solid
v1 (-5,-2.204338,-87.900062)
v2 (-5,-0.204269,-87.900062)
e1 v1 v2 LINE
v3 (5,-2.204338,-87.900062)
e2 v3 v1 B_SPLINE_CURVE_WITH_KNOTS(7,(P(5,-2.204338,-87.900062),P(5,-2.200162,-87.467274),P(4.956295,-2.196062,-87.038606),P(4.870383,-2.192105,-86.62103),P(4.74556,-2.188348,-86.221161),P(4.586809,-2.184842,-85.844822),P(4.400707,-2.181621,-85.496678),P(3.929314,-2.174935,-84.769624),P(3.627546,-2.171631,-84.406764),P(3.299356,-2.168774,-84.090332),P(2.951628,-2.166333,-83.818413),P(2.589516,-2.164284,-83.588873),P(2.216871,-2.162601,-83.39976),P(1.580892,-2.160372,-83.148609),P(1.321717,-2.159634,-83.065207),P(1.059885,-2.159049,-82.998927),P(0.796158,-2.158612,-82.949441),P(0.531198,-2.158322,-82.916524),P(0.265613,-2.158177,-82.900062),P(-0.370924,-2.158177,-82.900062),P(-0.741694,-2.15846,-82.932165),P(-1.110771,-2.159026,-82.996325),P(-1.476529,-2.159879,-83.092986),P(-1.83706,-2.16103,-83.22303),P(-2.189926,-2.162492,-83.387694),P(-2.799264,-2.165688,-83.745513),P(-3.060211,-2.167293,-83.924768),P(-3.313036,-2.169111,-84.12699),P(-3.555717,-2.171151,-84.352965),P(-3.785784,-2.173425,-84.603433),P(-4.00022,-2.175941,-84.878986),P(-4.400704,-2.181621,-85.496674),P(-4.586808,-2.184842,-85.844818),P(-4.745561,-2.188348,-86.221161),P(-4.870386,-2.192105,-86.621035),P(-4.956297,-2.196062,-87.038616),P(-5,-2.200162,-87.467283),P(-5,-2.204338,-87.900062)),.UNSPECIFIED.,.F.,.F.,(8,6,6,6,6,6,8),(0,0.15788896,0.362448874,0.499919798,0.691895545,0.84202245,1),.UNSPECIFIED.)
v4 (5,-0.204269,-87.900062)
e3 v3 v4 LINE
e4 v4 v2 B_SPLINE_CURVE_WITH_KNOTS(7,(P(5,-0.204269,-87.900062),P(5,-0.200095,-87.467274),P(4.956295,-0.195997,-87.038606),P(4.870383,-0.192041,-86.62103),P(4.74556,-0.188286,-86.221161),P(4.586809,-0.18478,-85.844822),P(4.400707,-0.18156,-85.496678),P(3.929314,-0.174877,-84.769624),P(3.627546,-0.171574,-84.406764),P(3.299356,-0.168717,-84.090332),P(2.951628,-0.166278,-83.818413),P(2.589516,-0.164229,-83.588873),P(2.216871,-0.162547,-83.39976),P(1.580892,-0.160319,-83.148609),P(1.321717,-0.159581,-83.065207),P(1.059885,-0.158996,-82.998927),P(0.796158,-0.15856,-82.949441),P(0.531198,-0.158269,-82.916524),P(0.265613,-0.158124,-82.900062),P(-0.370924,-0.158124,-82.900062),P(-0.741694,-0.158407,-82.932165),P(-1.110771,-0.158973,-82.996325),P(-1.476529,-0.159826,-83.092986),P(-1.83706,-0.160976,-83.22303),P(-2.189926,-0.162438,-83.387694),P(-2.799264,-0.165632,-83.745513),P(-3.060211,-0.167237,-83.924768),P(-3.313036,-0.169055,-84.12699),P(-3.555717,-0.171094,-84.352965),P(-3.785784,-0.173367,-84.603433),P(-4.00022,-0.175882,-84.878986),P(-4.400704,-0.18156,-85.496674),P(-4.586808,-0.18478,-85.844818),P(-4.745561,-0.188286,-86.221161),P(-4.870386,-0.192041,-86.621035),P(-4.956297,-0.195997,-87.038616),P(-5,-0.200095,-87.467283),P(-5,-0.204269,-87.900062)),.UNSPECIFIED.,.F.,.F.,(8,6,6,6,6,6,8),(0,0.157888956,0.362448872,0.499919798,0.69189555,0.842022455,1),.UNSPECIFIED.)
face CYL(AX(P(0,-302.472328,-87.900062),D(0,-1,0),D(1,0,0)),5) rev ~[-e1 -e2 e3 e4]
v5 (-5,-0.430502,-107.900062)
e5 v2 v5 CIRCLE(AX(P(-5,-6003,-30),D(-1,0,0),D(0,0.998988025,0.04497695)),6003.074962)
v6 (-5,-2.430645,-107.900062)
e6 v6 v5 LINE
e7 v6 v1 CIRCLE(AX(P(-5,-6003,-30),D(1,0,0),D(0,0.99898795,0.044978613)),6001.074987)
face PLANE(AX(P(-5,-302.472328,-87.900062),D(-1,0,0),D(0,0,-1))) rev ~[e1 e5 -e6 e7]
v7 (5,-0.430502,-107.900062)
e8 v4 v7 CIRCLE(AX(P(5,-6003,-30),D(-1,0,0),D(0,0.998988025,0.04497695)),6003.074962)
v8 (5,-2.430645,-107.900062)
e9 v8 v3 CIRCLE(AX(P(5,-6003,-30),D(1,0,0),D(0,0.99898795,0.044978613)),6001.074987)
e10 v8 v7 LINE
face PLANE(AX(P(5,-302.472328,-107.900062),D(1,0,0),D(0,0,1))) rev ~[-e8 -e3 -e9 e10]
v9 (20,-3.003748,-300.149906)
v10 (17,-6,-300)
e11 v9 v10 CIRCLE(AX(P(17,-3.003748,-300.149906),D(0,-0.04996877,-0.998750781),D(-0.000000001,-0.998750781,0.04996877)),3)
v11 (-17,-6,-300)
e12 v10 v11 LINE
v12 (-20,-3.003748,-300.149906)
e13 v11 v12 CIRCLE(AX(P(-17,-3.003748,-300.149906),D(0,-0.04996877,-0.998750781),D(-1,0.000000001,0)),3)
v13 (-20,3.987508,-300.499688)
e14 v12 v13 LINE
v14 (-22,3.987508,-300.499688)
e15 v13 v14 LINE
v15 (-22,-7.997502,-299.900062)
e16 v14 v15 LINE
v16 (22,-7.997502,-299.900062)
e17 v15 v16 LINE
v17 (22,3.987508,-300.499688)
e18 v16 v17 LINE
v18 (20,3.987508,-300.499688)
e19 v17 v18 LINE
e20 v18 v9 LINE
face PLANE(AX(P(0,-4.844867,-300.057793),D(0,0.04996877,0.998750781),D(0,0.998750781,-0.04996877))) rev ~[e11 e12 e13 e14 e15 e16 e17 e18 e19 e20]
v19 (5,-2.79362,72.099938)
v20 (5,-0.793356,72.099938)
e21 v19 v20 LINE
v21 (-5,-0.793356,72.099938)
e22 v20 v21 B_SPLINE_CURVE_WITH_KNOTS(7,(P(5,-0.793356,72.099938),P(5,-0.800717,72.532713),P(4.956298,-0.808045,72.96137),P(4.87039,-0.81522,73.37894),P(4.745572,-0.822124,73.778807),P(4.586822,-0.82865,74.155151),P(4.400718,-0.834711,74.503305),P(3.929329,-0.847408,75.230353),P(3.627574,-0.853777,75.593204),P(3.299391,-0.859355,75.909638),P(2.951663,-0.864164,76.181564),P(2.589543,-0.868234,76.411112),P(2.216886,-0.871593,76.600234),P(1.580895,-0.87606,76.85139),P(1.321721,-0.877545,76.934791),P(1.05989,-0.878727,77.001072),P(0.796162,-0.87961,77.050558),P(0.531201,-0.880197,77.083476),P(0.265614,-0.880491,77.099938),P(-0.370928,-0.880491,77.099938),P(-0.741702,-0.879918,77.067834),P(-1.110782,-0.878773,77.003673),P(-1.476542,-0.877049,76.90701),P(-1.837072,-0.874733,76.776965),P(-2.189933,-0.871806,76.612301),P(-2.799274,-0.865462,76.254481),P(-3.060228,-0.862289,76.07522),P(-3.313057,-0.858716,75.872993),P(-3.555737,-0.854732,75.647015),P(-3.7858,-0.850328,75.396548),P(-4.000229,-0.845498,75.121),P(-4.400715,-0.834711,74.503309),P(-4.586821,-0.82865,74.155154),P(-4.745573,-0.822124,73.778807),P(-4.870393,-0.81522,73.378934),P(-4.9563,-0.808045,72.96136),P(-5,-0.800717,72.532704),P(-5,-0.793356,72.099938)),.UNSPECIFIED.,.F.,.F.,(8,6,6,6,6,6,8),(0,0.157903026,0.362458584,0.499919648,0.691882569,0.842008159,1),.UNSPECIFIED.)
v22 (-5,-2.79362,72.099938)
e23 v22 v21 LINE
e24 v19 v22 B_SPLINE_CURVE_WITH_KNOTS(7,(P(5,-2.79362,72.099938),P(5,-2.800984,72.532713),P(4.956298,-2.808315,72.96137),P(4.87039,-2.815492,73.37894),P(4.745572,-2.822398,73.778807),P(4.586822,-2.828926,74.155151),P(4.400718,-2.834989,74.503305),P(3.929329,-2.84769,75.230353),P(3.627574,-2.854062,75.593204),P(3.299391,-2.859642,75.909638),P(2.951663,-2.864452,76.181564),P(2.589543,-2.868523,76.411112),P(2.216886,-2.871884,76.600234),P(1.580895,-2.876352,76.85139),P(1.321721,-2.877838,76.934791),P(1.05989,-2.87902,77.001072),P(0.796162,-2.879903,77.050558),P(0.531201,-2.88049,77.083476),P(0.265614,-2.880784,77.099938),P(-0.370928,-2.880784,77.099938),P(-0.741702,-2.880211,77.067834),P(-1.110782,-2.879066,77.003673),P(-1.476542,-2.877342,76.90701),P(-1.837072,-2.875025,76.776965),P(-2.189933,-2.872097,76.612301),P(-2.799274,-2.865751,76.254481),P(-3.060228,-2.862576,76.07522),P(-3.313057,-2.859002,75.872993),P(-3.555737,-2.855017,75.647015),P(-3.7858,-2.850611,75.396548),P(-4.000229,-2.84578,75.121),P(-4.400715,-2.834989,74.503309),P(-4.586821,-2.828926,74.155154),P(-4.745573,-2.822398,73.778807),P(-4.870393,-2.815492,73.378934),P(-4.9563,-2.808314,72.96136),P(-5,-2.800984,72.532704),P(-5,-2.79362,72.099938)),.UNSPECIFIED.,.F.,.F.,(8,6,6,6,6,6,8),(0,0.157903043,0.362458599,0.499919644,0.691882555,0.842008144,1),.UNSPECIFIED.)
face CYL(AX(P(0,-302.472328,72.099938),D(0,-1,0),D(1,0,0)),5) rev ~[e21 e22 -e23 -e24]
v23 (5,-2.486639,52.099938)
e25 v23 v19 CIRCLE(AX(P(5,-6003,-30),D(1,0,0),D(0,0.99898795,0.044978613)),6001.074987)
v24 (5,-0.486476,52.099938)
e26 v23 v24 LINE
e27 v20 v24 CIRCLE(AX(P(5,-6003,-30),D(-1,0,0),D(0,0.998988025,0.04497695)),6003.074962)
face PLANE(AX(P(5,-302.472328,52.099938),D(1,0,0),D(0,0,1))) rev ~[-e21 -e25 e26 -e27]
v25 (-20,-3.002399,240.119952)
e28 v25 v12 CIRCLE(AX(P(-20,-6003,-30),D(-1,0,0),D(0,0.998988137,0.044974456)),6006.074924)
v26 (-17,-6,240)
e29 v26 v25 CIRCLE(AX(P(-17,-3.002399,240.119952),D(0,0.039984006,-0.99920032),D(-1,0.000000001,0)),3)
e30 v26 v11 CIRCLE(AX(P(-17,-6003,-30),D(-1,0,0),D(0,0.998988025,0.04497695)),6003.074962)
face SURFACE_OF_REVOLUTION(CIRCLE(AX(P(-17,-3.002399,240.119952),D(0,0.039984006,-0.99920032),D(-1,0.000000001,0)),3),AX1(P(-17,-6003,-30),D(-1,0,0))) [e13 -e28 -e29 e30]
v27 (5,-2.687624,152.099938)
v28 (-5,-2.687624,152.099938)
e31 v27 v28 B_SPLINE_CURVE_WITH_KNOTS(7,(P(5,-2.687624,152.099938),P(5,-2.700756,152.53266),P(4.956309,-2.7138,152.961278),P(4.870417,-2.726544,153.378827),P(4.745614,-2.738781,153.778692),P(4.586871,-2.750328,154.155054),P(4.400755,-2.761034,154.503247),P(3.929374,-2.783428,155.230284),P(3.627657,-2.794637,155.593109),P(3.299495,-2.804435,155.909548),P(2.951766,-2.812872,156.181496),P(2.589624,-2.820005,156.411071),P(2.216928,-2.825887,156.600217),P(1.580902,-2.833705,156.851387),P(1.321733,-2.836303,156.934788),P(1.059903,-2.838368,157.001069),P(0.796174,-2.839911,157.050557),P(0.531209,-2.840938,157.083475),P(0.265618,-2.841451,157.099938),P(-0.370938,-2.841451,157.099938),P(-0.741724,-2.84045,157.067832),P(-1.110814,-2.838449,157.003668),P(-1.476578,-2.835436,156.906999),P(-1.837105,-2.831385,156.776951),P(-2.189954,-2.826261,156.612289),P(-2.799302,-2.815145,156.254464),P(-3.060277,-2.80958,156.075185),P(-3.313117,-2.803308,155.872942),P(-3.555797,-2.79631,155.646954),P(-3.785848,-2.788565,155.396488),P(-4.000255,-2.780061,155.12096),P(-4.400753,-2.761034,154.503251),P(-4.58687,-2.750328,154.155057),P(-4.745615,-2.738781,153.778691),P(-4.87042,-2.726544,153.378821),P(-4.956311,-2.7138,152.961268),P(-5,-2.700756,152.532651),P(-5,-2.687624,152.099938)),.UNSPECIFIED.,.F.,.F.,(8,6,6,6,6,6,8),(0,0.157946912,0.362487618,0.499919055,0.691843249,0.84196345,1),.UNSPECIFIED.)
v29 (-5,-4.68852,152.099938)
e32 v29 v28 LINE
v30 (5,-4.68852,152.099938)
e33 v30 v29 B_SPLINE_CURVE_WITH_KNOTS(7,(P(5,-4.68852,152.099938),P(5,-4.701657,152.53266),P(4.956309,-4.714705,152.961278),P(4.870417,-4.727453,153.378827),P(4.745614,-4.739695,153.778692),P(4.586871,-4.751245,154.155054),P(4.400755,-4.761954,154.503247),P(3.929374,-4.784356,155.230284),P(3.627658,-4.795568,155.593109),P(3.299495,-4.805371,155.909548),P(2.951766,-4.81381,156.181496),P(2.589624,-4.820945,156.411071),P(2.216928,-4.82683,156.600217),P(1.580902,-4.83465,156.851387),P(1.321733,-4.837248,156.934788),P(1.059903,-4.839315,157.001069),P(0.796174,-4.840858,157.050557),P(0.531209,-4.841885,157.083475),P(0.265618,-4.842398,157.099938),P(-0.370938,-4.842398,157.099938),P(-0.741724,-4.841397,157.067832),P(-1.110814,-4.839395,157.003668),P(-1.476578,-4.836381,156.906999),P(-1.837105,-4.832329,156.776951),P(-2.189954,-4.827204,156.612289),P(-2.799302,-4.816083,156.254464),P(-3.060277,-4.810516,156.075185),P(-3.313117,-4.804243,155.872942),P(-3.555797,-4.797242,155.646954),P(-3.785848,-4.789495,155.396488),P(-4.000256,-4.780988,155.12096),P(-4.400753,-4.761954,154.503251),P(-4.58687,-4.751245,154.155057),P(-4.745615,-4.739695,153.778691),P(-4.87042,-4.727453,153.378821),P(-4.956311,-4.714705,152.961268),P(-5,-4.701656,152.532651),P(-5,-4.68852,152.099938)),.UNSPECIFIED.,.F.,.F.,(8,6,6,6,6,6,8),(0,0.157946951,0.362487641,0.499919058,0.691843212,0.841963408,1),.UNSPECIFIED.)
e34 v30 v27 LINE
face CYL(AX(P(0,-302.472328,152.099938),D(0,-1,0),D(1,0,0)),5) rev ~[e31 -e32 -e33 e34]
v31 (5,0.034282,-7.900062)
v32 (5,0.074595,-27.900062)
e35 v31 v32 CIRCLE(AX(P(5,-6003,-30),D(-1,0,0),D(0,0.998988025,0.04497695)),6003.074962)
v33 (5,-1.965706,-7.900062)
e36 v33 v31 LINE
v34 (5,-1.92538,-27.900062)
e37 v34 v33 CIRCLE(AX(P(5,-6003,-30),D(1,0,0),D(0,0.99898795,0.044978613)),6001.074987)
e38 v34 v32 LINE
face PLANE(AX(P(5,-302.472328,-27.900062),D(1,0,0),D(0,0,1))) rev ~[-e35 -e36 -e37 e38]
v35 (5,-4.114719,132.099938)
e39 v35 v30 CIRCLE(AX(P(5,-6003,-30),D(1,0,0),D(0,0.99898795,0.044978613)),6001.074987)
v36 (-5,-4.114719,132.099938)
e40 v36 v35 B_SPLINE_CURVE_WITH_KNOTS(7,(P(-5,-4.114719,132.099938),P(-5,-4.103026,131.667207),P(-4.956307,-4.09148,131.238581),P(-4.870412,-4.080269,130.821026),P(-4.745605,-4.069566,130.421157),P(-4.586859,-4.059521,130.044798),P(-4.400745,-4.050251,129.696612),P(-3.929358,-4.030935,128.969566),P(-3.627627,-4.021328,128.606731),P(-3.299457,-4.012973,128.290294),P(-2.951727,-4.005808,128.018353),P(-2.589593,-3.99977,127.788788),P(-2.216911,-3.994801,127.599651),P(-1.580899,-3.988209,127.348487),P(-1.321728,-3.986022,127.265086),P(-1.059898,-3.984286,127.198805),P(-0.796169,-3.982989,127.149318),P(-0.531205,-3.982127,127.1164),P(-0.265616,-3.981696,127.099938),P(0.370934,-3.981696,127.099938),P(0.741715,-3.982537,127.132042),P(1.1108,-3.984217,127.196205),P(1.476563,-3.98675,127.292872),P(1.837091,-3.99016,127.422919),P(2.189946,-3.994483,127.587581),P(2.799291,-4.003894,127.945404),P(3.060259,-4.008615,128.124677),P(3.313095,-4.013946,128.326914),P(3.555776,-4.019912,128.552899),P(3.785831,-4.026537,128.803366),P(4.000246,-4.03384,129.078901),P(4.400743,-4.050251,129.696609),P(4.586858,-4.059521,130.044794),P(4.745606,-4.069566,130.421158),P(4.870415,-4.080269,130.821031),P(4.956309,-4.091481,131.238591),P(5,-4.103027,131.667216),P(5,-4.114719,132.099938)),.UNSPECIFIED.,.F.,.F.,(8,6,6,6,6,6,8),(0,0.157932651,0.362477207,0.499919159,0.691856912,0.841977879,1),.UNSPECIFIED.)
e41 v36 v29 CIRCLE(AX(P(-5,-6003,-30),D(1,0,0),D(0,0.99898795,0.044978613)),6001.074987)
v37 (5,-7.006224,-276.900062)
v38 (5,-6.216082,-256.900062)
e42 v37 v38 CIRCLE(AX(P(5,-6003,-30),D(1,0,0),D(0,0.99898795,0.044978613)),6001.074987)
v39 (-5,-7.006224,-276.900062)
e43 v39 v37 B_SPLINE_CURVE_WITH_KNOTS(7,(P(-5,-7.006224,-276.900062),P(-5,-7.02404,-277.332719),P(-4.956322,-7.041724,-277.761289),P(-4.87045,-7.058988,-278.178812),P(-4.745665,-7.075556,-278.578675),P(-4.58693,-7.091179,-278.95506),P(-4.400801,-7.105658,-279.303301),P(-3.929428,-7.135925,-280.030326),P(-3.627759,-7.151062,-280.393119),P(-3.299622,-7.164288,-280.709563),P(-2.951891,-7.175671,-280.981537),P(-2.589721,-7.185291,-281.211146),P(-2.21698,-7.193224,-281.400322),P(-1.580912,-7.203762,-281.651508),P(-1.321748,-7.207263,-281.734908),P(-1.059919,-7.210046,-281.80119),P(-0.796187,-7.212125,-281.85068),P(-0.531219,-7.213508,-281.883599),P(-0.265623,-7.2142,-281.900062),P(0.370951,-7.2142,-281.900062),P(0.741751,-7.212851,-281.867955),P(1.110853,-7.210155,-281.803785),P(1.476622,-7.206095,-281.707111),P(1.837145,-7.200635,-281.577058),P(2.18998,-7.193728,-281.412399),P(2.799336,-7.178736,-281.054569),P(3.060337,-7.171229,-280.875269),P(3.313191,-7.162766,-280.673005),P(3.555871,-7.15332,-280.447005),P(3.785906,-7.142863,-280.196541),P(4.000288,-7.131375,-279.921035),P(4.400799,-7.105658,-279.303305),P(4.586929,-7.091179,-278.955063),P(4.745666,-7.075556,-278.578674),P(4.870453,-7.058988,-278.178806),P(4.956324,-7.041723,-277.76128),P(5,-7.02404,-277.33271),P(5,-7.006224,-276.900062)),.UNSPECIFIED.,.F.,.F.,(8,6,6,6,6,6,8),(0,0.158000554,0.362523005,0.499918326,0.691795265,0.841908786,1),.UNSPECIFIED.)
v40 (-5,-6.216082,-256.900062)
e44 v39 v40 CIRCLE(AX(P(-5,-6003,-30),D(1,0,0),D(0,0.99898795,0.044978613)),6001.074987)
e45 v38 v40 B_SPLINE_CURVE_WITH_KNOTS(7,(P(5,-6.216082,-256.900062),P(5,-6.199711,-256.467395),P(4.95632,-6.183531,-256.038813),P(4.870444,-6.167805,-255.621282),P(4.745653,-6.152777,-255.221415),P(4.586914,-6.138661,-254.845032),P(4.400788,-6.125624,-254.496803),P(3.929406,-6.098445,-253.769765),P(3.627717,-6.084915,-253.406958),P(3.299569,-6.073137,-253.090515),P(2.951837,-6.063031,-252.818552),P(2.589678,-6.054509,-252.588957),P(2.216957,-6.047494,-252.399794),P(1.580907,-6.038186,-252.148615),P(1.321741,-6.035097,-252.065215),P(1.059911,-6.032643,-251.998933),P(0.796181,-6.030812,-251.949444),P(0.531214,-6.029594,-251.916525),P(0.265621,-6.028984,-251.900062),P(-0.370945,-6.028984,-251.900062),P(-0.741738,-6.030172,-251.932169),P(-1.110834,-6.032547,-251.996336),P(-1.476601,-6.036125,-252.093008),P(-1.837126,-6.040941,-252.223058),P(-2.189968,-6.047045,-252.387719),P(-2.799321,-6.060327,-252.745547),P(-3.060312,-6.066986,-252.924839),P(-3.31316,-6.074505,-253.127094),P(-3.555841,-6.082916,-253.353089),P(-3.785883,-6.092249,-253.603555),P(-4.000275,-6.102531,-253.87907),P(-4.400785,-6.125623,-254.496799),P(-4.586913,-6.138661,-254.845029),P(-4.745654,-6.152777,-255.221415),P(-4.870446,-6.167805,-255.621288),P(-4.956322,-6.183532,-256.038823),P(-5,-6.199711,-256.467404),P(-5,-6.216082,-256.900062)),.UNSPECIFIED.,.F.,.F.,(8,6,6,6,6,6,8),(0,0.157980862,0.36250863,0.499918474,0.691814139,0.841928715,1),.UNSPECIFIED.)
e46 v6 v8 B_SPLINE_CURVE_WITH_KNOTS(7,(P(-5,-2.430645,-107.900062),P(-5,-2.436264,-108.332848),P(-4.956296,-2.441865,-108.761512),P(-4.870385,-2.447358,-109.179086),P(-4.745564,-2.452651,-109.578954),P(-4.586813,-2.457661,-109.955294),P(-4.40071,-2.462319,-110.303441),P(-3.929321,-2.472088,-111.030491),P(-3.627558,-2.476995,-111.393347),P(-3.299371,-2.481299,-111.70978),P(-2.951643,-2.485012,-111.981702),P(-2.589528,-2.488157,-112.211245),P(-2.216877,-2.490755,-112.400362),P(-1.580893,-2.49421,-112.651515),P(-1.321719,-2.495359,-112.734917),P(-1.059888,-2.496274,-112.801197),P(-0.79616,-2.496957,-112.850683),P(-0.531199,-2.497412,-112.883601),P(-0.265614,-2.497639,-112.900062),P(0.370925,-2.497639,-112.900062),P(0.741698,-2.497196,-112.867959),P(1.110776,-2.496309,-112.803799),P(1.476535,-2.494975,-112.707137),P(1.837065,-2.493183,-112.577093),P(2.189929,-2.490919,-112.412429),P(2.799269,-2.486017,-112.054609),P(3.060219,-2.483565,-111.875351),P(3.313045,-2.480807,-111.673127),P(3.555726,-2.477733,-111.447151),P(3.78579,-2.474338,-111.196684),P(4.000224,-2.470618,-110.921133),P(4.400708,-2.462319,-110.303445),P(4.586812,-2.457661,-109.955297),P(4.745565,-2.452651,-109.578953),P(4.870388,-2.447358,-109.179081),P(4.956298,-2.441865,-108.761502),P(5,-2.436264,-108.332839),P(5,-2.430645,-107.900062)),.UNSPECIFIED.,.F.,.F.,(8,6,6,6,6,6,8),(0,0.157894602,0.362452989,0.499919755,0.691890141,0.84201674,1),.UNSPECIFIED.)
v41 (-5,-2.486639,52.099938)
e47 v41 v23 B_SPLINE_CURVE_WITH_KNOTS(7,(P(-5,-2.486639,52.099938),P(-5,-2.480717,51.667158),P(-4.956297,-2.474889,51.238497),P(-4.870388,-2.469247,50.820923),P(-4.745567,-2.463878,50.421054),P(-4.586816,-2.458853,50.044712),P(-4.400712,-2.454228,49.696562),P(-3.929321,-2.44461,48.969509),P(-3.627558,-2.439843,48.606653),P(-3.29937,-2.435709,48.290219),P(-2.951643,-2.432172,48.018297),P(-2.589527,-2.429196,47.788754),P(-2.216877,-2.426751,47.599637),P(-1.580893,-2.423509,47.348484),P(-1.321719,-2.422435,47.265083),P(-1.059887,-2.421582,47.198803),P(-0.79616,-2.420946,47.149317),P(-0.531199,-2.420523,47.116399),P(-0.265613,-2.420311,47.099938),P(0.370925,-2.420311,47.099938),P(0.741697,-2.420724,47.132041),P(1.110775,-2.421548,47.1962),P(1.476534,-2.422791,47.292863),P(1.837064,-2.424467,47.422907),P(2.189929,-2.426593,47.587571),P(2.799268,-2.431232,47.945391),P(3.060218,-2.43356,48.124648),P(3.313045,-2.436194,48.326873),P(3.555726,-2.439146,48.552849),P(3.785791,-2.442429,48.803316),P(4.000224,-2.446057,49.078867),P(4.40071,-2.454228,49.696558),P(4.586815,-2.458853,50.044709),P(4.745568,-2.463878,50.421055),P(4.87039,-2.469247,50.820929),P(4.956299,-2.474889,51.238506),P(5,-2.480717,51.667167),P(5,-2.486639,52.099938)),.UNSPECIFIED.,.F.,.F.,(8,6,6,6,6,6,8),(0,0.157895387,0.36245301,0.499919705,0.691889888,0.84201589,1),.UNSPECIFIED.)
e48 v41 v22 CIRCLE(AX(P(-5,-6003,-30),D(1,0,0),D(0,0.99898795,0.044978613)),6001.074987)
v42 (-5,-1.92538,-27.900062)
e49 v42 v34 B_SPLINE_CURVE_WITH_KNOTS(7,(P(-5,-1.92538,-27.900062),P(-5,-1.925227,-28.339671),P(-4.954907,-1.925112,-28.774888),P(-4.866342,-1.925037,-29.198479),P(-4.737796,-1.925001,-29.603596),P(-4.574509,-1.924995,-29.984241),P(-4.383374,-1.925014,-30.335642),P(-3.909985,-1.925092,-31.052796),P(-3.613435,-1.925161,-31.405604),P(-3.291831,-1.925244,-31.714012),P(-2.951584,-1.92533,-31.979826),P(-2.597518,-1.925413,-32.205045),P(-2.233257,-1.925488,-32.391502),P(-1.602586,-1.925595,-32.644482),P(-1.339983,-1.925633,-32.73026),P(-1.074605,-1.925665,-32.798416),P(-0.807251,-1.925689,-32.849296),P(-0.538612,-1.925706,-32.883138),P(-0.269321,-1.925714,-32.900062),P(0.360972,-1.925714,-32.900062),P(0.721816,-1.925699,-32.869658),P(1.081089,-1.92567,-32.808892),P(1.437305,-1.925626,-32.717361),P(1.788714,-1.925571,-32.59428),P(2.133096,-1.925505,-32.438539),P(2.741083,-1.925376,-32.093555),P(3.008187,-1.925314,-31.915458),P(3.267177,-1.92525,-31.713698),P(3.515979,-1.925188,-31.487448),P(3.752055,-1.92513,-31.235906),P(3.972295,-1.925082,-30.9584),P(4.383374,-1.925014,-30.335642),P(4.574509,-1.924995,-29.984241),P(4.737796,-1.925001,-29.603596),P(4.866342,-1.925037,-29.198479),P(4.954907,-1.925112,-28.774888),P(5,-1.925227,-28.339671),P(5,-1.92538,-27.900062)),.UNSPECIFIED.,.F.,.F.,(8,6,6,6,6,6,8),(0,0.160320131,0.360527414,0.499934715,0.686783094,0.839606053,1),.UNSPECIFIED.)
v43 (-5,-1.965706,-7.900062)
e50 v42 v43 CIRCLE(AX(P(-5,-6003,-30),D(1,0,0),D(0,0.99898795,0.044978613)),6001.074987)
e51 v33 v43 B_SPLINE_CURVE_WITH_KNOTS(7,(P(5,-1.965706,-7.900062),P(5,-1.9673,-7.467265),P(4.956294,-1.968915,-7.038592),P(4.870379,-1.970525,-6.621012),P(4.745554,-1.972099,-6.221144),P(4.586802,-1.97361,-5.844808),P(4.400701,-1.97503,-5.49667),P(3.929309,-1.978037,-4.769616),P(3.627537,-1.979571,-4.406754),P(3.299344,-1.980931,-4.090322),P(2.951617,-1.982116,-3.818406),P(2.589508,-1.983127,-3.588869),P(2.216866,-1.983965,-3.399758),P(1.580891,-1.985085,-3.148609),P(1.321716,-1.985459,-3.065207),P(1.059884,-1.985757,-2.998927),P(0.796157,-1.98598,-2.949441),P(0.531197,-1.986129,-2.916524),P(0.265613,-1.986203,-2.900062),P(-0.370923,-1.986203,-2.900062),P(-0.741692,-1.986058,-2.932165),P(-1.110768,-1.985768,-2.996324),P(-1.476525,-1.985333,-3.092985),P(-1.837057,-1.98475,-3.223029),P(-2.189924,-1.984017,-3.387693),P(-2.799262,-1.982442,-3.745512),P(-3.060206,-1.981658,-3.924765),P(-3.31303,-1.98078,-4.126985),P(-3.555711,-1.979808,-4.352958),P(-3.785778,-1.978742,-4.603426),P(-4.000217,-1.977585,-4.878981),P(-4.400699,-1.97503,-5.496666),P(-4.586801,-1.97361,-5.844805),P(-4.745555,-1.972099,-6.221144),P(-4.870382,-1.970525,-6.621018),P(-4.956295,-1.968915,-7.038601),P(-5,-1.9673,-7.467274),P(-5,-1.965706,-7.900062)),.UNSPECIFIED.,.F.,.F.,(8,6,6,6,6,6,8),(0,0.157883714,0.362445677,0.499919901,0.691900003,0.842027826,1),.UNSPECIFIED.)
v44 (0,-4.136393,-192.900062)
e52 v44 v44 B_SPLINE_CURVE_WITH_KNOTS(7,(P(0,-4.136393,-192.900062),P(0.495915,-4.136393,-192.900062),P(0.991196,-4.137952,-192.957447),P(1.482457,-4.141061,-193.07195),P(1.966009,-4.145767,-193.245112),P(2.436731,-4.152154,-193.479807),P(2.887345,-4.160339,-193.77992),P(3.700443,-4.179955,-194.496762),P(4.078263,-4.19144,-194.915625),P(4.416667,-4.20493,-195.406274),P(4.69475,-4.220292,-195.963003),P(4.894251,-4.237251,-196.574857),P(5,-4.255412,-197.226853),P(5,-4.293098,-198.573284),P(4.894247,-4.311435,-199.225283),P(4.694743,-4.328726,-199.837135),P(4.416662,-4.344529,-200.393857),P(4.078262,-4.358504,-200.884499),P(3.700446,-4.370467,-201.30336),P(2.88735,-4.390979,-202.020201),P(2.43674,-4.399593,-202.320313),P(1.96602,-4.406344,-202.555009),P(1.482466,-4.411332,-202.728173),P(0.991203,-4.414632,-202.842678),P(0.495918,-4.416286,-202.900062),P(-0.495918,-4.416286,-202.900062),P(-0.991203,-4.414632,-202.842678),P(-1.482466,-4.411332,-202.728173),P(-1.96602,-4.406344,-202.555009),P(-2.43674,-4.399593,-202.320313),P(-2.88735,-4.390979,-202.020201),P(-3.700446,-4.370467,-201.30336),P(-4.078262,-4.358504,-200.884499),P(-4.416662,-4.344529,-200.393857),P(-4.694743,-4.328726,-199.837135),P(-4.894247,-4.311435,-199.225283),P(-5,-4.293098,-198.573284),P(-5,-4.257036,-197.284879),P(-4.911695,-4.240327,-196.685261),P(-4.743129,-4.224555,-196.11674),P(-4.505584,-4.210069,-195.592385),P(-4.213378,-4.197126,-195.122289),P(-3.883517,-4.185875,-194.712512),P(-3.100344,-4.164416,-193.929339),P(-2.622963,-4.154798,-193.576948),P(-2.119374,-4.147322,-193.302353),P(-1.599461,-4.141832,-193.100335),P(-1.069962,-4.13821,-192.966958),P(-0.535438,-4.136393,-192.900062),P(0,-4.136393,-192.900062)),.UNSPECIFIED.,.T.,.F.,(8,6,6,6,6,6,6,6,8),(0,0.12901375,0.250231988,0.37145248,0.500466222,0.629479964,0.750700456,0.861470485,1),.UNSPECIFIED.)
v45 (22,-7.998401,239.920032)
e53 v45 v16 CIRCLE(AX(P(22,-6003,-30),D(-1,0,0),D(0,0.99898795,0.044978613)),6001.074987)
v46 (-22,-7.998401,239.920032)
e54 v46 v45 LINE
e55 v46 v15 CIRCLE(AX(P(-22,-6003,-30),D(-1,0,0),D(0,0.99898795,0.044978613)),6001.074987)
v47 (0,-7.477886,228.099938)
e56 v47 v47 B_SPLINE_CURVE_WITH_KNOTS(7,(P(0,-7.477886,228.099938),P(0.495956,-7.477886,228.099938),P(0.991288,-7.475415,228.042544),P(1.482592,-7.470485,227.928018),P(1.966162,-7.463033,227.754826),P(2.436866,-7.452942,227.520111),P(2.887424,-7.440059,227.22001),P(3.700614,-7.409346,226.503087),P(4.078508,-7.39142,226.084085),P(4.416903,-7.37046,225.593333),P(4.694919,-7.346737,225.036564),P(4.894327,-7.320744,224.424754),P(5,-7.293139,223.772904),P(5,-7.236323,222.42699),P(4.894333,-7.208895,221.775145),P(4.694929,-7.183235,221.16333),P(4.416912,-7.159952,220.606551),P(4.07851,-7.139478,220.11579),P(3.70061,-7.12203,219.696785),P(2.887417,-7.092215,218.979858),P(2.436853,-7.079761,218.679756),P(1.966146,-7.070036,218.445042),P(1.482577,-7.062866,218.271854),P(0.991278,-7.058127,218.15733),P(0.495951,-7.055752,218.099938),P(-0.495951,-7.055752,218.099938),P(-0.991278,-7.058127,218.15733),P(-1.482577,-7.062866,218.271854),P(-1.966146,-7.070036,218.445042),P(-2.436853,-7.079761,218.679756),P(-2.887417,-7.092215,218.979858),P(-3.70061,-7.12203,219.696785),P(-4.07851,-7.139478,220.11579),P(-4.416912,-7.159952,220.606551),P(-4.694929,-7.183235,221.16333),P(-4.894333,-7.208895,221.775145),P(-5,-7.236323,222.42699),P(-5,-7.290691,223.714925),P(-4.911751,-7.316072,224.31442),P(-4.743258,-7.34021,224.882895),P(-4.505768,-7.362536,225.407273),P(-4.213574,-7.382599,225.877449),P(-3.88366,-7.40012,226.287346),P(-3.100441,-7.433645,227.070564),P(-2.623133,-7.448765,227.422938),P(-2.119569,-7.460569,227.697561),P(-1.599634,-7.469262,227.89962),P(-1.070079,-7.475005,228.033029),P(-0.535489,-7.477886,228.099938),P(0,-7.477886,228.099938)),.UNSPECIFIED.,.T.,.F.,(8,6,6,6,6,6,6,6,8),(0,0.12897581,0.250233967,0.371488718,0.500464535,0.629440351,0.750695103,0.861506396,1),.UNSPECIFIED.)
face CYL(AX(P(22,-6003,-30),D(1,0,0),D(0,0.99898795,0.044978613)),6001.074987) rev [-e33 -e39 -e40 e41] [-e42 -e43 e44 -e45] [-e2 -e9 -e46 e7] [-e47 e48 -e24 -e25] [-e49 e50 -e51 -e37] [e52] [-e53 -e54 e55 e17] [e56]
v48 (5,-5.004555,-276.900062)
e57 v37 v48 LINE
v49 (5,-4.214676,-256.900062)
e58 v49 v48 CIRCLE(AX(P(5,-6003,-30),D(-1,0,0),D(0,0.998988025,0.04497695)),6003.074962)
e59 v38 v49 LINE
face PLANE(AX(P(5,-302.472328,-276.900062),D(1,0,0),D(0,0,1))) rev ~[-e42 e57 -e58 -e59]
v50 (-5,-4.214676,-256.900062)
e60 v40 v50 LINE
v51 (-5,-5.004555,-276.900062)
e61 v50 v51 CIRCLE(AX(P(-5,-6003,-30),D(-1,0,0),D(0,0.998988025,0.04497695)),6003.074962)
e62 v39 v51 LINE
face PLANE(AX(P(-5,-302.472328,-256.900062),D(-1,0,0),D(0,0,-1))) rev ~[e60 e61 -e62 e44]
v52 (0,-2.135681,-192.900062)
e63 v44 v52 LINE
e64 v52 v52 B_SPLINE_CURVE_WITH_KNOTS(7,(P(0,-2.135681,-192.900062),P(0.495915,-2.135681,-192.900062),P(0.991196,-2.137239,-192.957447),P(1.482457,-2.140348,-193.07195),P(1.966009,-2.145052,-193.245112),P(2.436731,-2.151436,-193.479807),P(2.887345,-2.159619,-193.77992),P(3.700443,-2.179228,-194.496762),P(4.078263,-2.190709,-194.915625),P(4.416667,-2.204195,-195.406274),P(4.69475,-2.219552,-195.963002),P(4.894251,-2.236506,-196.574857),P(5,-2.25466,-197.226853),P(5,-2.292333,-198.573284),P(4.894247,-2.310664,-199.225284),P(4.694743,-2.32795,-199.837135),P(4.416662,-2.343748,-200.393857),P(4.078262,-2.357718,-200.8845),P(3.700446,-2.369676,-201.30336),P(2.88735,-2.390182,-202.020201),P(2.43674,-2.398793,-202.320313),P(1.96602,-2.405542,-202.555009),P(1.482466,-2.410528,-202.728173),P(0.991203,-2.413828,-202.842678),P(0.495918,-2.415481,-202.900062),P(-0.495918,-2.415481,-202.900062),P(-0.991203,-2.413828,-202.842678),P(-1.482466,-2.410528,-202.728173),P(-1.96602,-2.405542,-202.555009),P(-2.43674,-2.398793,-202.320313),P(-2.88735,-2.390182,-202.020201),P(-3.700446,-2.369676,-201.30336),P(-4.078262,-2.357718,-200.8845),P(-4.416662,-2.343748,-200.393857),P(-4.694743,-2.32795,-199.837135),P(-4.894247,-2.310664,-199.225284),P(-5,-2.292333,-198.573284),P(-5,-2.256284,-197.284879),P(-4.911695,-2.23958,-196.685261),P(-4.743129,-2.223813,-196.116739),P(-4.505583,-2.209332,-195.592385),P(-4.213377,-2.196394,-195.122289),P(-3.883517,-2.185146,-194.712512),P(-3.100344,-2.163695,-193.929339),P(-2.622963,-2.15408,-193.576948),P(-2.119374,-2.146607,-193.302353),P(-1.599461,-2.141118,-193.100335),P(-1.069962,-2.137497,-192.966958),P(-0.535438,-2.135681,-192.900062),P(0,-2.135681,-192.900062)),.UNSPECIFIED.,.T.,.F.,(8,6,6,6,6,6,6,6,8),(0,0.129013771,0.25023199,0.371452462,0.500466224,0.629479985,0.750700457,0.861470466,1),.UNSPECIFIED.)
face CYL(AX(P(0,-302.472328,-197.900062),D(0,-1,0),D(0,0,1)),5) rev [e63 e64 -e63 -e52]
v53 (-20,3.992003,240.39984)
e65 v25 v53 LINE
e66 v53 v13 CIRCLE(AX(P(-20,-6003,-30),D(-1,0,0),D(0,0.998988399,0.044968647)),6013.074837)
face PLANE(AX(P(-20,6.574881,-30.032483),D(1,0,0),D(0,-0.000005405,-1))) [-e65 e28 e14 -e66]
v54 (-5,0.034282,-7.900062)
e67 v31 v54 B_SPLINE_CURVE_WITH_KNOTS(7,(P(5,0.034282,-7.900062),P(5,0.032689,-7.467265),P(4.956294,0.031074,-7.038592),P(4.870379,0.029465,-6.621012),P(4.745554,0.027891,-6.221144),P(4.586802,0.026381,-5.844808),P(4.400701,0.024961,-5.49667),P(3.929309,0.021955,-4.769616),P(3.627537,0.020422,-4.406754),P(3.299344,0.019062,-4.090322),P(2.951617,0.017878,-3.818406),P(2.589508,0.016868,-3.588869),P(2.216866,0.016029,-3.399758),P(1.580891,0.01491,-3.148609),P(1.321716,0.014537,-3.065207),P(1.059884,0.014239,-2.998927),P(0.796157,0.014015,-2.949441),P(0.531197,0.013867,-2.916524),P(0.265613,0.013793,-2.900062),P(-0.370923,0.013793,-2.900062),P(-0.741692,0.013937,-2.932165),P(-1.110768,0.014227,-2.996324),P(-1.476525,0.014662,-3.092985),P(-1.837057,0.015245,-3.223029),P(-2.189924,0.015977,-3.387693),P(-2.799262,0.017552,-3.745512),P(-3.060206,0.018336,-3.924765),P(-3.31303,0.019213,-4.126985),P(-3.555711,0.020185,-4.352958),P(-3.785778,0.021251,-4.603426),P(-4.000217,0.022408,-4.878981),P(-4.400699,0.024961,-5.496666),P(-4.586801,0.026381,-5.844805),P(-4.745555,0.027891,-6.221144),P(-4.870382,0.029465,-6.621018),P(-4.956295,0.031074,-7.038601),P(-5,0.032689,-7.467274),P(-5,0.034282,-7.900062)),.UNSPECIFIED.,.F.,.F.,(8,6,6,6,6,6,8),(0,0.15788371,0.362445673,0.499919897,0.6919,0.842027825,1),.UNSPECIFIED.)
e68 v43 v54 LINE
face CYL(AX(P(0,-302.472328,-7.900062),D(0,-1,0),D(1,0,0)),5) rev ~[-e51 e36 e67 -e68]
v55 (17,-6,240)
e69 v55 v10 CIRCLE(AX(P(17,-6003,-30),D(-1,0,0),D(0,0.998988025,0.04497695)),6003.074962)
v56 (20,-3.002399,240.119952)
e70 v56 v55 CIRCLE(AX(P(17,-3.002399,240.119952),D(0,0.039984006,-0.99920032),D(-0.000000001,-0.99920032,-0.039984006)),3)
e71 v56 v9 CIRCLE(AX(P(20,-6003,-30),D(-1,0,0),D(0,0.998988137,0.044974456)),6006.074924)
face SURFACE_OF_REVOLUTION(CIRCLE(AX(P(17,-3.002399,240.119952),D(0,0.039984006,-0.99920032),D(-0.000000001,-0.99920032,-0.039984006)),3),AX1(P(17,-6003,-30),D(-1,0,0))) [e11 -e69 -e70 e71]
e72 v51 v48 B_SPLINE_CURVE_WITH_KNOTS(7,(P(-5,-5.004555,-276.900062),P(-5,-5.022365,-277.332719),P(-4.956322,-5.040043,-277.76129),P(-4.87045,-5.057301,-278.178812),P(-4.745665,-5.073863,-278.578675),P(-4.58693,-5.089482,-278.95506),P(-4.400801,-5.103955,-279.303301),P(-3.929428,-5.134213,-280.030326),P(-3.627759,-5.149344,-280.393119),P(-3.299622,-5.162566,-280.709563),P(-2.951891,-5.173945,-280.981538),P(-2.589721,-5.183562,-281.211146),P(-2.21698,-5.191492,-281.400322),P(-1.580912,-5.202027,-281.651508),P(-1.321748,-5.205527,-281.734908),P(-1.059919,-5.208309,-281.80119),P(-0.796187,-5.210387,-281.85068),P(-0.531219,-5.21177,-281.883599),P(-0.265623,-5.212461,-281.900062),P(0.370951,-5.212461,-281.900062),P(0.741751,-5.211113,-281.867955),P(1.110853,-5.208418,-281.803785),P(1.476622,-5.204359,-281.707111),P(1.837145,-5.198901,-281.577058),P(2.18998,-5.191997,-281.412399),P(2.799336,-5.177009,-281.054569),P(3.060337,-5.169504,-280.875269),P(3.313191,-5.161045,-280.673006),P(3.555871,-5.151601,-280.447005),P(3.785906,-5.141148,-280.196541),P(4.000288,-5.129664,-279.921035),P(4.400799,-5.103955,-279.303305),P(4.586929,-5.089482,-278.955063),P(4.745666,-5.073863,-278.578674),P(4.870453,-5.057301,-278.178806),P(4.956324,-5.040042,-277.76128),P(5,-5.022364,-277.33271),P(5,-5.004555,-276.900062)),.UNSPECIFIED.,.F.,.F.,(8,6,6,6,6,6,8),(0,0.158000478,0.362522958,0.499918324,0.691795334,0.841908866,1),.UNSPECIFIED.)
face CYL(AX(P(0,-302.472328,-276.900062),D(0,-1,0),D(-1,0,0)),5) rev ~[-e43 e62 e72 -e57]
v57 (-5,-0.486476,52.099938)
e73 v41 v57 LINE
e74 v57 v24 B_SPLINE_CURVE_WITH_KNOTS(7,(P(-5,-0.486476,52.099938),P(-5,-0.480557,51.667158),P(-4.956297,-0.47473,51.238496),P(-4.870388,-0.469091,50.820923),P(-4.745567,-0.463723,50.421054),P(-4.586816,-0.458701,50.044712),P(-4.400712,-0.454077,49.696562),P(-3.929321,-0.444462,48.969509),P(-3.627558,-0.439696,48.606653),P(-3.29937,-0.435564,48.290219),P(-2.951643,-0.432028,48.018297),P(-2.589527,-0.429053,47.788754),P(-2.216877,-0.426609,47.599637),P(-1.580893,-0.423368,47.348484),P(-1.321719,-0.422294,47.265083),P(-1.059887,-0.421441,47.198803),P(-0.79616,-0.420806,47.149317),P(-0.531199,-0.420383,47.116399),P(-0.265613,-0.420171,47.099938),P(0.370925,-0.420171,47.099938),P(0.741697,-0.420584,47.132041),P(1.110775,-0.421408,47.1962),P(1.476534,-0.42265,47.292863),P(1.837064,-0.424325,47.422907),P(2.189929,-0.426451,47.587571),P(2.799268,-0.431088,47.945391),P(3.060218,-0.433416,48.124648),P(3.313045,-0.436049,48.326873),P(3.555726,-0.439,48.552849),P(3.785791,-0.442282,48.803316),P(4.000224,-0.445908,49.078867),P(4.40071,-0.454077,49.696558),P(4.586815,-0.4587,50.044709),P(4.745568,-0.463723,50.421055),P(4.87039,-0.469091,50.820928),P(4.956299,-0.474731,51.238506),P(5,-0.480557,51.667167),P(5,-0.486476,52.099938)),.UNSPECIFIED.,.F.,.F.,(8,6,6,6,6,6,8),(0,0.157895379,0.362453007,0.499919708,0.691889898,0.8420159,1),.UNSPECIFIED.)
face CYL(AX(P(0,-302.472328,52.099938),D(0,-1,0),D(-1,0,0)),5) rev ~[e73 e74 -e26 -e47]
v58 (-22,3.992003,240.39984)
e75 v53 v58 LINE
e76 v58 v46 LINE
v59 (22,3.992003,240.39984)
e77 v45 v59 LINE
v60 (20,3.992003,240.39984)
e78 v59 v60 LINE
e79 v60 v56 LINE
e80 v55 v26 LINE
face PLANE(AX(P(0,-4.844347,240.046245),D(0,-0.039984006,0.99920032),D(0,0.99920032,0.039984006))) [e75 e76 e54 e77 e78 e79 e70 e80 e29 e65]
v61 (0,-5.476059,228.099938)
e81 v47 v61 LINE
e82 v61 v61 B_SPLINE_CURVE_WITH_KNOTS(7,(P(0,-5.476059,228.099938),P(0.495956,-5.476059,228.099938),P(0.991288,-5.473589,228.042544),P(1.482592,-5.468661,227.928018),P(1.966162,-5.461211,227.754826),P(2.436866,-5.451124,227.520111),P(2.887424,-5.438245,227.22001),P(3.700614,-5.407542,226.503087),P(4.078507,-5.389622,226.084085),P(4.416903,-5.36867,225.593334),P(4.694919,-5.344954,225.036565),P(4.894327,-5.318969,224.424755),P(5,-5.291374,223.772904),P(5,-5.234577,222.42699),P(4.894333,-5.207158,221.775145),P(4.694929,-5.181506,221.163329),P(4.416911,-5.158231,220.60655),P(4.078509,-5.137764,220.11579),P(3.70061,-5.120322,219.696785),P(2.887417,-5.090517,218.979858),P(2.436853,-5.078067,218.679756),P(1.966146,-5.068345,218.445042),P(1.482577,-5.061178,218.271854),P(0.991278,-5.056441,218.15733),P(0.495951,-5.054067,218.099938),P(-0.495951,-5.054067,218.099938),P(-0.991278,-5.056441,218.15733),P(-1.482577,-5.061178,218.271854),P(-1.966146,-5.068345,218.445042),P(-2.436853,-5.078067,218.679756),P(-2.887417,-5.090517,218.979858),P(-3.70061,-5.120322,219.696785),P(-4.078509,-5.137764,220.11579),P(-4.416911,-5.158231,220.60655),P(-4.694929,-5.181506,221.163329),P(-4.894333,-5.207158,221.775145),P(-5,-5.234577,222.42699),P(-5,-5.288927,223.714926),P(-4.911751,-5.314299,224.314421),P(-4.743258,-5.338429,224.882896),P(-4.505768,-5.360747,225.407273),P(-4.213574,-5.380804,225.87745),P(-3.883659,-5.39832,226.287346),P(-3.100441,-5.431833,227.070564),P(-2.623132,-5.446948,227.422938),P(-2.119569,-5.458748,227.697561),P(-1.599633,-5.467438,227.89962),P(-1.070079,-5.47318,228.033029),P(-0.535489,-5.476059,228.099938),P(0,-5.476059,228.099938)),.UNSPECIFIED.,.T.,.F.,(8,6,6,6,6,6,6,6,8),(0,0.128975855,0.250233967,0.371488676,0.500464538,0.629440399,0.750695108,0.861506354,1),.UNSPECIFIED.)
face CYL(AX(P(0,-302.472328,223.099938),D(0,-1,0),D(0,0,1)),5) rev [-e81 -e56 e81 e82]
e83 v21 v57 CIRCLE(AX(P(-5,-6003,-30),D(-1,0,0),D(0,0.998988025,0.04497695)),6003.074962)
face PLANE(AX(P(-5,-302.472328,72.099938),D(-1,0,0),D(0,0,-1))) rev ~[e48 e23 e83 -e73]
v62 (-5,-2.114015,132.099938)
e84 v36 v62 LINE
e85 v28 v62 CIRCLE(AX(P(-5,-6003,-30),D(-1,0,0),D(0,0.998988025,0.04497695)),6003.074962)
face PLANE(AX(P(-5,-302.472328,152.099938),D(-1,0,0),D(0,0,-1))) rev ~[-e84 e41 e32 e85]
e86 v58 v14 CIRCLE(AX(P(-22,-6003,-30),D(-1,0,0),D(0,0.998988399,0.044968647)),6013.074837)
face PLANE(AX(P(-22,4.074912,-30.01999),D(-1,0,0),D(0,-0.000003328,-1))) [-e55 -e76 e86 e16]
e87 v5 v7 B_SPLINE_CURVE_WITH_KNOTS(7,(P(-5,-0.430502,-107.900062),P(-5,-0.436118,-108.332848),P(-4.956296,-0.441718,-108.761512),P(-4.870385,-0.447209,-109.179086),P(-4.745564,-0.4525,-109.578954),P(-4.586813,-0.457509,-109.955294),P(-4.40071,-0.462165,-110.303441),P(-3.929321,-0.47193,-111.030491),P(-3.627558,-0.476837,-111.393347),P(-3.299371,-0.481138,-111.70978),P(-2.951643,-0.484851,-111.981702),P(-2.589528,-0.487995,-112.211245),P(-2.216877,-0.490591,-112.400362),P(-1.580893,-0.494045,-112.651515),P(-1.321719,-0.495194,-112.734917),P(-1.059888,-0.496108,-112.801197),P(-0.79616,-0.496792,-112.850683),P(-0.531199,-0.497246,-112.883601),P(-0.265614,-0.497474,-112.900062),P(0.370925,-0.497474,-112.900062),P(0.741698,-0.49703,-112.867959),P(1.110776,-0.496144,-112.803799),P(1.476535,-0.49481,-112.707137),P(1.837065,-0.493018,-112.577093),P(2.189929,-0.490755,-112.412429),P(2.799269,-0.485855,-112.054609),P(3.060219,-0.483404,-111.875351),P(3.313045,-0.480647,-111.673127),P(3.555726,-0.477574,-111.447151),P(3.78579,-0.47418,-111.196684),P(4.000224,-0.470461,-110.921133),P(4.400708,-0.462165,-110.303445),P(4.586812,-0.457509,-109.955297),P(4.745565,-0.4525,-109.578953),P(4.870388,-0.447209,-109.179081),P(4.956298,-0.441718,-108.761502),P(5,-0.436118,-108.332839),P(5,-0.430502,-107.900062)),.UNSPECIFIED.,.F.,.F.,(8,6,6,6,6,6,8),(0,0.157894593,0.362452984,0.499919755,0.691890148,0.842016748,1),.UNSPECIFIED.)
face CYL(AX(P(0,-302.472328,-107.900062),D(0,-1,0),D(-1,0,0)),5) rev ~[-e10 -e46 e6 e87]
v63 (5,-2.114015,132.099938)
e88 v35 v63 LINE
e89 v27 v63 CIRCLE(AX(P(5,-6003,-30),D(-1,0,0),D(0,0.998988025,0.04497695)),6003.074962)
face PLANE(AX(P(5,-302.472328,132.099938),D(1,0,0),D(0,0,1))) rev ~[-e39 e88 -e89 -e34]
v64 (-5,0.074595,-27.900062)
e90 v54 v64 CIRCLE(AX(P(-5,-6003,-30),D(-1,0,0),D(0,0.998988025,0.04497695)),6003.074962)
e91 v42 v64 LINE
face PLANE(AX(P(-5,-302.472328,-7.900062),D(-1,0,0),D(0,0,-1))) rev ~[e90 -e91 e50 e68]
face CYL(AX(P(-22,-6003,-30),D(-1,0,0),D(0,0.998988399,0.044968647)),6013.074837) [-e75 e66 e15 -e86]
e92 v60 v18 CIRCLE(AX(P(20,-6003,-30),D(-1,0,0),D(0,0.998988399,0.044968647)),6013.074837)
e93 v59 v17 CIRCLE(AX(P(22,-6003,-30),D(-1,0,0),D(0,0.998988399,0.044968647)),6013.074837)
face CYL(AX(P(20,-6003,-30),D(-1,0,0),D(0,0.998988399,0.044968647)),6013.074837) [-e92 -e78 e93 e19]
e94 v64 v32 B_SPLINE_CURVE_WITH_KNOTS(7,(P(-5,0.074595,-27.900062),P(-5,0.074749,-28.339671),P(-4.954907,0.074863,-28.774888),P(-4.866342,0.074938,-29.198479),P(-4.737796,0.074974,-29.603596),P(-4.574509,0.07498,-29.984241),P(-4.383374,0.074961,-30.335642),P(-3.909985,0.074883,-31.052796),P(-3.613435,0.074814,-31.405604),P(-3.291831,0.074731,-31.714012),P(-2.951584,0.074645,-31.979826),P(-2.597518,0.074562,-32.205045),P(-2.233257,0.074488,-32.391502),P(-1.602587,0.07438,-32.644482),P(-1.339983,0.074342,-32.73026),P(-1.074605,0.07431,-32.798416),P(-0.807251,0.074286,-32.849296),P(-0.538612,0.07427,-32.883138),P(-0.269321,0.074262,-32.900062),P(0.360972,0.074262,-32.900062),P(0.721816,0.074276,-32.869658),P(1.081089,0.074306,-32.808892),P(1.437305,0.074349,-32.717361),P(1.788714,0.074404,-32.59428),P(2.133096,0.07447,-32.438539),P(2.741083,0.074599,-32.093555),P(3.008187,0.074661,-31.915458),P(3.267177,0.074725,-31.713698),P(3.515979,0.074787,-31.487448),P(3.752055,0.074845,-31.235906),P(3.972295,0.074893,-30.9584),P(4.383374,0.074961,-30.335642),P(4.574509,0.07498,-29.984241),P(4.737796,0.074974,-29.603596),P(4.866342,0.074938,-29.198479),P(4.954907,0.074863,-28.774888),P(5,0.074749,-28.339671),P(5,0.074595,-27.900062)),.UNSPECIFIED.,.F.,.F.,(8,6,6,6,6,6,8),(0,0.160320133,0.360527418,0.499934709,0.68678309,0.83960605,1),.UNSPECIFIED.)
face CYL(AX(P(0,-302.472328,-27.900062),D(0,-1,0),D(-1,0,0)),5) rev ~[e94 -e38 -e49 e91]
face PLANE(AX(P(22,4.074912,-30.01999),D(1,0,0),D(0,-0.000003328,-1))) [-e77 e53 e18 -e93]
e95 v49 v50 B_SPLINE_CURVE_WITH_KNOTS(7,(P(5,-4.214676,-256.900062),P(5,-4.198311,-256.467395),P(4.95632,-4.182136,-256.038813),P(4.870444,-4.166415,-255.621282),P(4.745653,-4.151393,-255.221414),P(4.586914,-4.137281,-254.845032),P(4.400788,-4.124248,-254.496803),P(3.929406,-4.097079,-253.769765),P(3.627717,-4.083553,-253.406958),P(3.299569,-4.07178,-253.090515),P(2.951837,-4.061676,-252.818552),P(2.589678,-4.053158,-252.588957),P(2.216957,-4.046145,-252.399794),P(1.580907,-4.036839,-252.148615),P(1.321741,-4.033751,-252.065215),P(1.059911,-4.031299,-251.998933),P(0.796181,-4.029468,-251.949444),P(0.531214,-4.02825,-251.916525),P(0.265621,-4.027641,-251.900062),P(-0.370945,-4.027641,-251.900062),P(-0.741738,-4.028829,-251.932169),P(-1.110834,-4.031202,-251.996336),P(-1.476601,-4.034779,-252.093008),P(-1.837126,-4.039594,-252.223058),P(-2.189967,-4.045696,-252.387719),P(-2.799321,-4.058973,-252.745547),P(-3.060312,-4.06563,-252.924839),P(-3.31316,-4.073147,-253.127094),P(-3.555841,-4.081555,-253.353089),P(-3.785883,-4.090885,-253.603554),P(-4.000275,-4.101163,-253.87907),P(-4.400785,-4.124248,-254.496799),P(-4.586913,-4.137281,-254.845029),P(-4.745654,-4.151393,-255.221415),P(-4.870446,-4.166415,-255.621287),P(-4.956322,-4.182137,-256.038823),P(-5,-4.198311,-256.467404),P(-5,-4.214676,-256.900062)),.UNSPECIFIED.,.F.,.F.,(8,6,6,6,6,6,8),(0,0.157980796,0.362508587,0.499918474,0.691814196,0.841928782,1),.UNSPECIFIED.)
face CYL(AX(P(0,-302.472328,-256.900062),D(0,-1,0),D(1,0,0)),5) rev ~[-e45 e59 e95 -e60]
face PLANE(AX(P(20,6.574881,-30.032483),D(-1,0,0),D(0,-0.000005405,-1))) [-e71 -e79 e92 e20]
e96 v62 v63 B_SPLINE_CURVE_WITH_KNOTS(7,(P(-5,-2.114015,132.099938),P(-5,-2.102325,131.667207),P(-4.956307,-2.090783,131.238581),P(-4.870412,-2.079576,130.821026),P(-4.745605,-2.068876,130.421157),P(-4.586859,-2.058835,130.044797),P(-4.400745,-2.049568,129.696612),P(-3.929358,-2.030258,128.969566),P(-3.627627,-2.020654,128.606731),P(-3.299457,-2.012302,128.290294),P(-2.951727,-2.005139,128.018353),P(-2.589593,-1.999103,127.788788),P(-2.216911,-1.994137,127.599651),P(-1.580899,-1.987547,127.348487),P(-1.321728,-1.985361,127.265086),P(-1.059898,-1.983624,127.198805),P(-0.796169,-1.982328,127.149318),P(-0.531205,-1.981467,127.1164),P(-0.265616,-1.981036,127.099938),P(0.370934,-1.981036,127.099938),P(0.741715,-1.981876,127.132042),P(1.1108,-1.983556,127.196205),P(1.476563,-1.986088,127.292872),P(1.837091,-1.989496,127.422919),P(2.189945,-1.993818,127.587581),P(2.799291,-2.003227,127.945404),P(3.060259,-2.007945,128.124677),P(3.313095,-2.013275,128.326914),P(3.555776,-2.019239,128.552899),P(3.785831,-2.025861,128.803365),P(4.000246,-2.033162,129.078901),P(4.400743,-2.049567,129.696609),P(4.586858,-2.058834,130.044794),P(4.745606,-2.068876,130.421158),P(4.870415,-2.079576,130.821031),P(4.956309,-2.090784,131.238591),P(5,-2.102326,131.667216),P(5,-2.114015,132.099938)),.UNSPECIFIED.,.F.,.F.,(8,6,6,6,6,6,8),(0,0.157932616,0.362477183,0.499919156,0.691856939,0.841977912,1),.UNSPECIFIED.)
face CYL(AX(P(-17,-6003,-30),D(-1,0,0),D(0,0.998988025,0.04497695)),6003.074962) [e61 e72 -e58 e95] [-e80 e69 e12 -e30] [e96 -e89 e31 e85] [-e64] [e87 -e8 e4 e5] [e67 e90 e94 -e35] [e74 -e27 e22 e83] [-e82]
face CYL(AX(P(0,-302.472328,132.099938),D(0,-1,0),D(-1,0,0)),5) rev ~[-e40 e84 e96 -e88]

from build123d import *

# Parameters (mm, degrees)
VARIOUS_MOUNTING_POINTS_DEPTH      = 302.472328172
VARIOUS_MOUNTING_POINTS_DEPTH_BACK = 302.472328172
SKETCH4_R                          = 5


with BuildPart() as part:
    # Sweep1: sweep along a path in Sketch3
    with BuildLine(Plane(origin=(0, 0, 0), x_dir=(0, 0, -1), z_dir=(1, 0, 0))) as sweep1_path:
        ThreePointArc((-240, -6), (30, 0.074962051), (300, -6))
    # Sketch1 → Sweep1 (sweep)
    with BuildSketch(Plane.XY):
        with BuildLine():
            Line((-17, 0), (17, 0))
            ThreePointArc((17, 0), (19.121320344, 0.878679656), (20, 3))
            Line((20, 3), (20, 10))
            Line((20, 10), (22, 10))
            Line((22, 10), (22, -2))
            Line((22, -2), (-22, -2))
            Line((-22, -2), (-22, 10))
            Line((-22, 10), (-20, 10))
            Line((-20, 10), (-20, 3))
            ThreePointArc((-20, 3), (-19.121320344, 0.878679656), (-17, 0))
        make_face()
    sweep(path=sweep1_path.line)

    # Sketch4 → Various mounting points (cut, two sides: drawn at the far end of the back side and taken through both)
    with BuildSketch(Plane(origin=(0, 0, 0), x_dir=(1, 0, 0), z_dir=(0, 1, 0)).offset(-VARIOUS_MOUNTING_POINTS_DEPTH_BACK)):
        with Locations(Location((0, 197.900062461, 0), (0, 0, 270))):
            Circle(SKETCH4_R)
        with Locations(Location((0, -223.099937539, 0), (0, 0, 270))):
            Circle(SKETCH4_R)
        with BuildLine():
            Line((-5, 256.900062461), (-5, 276.900062461))
            ThreePointArc((-5, 276.900062461), (0, 281.900062461), (5, 276.900062461))
            Line((5, 276.900062461), (5, 256.900062461))
            ThreePointArc((5, 256.900062461), (0, 251.900062461), (-5, 256.900062461))
        make_face()
        with BuildLine():
            Line((-5, 87.900062461), (-5, 107.900062461))
            ThreePointArc((-5, 107.900062461), (0, 112.900062461), (5, 107.900062461))
            Line((5, 107.900062461), (5, 87.900062461))
            ThreePointArc((5, 87.900062461), (0, 82.900062461), (-5, 87.900062461))
        make_face()
        with BuildLine():
            Line((-5, 7.900062461), (-5, 27.900062461))
            ThreePointArc((-5, 27.900062461), (0, 32.900062461), (5, 27.900062461))
            Line((5, 27.900062461), (5, 7.900062461))
            ThreePointArc((5, 7.900062461), (0, 2.900062461), (-5, 7.900062461))
        make_face()
        with BuildLine():
            Line((-5, -72.099937539), (-5, -52.099937539))
            ThreePointArc((-5, -52.099937539), (0, -47.099937539), (5, -52.099937539))
            Line((5, -52.099937539), (5, -72.099937539))
            ThreePointArc((5, -72.099937539), (0, -77.099937539), (-5, -72.099937539))
        make_face()
        with BuildLine():
            Line((-5, -152.099937539), (-5, -132.099937539))
            ThreePointArc((-5, -132.099937539), (0, -127.099937539), (5, -132.099937539))
            Line((5, -132.099937539), (5, -152.099937539))
            ThreePointArc((5, -152.099937539), (0, -157.099937539), (-5, -152.099937539))
        make_face()
    extrude(amount=VARIOUS_MOUNTING_POINTS_DEPTH + VARIOUS_MOUNTING_POINTS_DEPTH_BACK, mode=Mode.SUBTRACT)


solid = part.part
